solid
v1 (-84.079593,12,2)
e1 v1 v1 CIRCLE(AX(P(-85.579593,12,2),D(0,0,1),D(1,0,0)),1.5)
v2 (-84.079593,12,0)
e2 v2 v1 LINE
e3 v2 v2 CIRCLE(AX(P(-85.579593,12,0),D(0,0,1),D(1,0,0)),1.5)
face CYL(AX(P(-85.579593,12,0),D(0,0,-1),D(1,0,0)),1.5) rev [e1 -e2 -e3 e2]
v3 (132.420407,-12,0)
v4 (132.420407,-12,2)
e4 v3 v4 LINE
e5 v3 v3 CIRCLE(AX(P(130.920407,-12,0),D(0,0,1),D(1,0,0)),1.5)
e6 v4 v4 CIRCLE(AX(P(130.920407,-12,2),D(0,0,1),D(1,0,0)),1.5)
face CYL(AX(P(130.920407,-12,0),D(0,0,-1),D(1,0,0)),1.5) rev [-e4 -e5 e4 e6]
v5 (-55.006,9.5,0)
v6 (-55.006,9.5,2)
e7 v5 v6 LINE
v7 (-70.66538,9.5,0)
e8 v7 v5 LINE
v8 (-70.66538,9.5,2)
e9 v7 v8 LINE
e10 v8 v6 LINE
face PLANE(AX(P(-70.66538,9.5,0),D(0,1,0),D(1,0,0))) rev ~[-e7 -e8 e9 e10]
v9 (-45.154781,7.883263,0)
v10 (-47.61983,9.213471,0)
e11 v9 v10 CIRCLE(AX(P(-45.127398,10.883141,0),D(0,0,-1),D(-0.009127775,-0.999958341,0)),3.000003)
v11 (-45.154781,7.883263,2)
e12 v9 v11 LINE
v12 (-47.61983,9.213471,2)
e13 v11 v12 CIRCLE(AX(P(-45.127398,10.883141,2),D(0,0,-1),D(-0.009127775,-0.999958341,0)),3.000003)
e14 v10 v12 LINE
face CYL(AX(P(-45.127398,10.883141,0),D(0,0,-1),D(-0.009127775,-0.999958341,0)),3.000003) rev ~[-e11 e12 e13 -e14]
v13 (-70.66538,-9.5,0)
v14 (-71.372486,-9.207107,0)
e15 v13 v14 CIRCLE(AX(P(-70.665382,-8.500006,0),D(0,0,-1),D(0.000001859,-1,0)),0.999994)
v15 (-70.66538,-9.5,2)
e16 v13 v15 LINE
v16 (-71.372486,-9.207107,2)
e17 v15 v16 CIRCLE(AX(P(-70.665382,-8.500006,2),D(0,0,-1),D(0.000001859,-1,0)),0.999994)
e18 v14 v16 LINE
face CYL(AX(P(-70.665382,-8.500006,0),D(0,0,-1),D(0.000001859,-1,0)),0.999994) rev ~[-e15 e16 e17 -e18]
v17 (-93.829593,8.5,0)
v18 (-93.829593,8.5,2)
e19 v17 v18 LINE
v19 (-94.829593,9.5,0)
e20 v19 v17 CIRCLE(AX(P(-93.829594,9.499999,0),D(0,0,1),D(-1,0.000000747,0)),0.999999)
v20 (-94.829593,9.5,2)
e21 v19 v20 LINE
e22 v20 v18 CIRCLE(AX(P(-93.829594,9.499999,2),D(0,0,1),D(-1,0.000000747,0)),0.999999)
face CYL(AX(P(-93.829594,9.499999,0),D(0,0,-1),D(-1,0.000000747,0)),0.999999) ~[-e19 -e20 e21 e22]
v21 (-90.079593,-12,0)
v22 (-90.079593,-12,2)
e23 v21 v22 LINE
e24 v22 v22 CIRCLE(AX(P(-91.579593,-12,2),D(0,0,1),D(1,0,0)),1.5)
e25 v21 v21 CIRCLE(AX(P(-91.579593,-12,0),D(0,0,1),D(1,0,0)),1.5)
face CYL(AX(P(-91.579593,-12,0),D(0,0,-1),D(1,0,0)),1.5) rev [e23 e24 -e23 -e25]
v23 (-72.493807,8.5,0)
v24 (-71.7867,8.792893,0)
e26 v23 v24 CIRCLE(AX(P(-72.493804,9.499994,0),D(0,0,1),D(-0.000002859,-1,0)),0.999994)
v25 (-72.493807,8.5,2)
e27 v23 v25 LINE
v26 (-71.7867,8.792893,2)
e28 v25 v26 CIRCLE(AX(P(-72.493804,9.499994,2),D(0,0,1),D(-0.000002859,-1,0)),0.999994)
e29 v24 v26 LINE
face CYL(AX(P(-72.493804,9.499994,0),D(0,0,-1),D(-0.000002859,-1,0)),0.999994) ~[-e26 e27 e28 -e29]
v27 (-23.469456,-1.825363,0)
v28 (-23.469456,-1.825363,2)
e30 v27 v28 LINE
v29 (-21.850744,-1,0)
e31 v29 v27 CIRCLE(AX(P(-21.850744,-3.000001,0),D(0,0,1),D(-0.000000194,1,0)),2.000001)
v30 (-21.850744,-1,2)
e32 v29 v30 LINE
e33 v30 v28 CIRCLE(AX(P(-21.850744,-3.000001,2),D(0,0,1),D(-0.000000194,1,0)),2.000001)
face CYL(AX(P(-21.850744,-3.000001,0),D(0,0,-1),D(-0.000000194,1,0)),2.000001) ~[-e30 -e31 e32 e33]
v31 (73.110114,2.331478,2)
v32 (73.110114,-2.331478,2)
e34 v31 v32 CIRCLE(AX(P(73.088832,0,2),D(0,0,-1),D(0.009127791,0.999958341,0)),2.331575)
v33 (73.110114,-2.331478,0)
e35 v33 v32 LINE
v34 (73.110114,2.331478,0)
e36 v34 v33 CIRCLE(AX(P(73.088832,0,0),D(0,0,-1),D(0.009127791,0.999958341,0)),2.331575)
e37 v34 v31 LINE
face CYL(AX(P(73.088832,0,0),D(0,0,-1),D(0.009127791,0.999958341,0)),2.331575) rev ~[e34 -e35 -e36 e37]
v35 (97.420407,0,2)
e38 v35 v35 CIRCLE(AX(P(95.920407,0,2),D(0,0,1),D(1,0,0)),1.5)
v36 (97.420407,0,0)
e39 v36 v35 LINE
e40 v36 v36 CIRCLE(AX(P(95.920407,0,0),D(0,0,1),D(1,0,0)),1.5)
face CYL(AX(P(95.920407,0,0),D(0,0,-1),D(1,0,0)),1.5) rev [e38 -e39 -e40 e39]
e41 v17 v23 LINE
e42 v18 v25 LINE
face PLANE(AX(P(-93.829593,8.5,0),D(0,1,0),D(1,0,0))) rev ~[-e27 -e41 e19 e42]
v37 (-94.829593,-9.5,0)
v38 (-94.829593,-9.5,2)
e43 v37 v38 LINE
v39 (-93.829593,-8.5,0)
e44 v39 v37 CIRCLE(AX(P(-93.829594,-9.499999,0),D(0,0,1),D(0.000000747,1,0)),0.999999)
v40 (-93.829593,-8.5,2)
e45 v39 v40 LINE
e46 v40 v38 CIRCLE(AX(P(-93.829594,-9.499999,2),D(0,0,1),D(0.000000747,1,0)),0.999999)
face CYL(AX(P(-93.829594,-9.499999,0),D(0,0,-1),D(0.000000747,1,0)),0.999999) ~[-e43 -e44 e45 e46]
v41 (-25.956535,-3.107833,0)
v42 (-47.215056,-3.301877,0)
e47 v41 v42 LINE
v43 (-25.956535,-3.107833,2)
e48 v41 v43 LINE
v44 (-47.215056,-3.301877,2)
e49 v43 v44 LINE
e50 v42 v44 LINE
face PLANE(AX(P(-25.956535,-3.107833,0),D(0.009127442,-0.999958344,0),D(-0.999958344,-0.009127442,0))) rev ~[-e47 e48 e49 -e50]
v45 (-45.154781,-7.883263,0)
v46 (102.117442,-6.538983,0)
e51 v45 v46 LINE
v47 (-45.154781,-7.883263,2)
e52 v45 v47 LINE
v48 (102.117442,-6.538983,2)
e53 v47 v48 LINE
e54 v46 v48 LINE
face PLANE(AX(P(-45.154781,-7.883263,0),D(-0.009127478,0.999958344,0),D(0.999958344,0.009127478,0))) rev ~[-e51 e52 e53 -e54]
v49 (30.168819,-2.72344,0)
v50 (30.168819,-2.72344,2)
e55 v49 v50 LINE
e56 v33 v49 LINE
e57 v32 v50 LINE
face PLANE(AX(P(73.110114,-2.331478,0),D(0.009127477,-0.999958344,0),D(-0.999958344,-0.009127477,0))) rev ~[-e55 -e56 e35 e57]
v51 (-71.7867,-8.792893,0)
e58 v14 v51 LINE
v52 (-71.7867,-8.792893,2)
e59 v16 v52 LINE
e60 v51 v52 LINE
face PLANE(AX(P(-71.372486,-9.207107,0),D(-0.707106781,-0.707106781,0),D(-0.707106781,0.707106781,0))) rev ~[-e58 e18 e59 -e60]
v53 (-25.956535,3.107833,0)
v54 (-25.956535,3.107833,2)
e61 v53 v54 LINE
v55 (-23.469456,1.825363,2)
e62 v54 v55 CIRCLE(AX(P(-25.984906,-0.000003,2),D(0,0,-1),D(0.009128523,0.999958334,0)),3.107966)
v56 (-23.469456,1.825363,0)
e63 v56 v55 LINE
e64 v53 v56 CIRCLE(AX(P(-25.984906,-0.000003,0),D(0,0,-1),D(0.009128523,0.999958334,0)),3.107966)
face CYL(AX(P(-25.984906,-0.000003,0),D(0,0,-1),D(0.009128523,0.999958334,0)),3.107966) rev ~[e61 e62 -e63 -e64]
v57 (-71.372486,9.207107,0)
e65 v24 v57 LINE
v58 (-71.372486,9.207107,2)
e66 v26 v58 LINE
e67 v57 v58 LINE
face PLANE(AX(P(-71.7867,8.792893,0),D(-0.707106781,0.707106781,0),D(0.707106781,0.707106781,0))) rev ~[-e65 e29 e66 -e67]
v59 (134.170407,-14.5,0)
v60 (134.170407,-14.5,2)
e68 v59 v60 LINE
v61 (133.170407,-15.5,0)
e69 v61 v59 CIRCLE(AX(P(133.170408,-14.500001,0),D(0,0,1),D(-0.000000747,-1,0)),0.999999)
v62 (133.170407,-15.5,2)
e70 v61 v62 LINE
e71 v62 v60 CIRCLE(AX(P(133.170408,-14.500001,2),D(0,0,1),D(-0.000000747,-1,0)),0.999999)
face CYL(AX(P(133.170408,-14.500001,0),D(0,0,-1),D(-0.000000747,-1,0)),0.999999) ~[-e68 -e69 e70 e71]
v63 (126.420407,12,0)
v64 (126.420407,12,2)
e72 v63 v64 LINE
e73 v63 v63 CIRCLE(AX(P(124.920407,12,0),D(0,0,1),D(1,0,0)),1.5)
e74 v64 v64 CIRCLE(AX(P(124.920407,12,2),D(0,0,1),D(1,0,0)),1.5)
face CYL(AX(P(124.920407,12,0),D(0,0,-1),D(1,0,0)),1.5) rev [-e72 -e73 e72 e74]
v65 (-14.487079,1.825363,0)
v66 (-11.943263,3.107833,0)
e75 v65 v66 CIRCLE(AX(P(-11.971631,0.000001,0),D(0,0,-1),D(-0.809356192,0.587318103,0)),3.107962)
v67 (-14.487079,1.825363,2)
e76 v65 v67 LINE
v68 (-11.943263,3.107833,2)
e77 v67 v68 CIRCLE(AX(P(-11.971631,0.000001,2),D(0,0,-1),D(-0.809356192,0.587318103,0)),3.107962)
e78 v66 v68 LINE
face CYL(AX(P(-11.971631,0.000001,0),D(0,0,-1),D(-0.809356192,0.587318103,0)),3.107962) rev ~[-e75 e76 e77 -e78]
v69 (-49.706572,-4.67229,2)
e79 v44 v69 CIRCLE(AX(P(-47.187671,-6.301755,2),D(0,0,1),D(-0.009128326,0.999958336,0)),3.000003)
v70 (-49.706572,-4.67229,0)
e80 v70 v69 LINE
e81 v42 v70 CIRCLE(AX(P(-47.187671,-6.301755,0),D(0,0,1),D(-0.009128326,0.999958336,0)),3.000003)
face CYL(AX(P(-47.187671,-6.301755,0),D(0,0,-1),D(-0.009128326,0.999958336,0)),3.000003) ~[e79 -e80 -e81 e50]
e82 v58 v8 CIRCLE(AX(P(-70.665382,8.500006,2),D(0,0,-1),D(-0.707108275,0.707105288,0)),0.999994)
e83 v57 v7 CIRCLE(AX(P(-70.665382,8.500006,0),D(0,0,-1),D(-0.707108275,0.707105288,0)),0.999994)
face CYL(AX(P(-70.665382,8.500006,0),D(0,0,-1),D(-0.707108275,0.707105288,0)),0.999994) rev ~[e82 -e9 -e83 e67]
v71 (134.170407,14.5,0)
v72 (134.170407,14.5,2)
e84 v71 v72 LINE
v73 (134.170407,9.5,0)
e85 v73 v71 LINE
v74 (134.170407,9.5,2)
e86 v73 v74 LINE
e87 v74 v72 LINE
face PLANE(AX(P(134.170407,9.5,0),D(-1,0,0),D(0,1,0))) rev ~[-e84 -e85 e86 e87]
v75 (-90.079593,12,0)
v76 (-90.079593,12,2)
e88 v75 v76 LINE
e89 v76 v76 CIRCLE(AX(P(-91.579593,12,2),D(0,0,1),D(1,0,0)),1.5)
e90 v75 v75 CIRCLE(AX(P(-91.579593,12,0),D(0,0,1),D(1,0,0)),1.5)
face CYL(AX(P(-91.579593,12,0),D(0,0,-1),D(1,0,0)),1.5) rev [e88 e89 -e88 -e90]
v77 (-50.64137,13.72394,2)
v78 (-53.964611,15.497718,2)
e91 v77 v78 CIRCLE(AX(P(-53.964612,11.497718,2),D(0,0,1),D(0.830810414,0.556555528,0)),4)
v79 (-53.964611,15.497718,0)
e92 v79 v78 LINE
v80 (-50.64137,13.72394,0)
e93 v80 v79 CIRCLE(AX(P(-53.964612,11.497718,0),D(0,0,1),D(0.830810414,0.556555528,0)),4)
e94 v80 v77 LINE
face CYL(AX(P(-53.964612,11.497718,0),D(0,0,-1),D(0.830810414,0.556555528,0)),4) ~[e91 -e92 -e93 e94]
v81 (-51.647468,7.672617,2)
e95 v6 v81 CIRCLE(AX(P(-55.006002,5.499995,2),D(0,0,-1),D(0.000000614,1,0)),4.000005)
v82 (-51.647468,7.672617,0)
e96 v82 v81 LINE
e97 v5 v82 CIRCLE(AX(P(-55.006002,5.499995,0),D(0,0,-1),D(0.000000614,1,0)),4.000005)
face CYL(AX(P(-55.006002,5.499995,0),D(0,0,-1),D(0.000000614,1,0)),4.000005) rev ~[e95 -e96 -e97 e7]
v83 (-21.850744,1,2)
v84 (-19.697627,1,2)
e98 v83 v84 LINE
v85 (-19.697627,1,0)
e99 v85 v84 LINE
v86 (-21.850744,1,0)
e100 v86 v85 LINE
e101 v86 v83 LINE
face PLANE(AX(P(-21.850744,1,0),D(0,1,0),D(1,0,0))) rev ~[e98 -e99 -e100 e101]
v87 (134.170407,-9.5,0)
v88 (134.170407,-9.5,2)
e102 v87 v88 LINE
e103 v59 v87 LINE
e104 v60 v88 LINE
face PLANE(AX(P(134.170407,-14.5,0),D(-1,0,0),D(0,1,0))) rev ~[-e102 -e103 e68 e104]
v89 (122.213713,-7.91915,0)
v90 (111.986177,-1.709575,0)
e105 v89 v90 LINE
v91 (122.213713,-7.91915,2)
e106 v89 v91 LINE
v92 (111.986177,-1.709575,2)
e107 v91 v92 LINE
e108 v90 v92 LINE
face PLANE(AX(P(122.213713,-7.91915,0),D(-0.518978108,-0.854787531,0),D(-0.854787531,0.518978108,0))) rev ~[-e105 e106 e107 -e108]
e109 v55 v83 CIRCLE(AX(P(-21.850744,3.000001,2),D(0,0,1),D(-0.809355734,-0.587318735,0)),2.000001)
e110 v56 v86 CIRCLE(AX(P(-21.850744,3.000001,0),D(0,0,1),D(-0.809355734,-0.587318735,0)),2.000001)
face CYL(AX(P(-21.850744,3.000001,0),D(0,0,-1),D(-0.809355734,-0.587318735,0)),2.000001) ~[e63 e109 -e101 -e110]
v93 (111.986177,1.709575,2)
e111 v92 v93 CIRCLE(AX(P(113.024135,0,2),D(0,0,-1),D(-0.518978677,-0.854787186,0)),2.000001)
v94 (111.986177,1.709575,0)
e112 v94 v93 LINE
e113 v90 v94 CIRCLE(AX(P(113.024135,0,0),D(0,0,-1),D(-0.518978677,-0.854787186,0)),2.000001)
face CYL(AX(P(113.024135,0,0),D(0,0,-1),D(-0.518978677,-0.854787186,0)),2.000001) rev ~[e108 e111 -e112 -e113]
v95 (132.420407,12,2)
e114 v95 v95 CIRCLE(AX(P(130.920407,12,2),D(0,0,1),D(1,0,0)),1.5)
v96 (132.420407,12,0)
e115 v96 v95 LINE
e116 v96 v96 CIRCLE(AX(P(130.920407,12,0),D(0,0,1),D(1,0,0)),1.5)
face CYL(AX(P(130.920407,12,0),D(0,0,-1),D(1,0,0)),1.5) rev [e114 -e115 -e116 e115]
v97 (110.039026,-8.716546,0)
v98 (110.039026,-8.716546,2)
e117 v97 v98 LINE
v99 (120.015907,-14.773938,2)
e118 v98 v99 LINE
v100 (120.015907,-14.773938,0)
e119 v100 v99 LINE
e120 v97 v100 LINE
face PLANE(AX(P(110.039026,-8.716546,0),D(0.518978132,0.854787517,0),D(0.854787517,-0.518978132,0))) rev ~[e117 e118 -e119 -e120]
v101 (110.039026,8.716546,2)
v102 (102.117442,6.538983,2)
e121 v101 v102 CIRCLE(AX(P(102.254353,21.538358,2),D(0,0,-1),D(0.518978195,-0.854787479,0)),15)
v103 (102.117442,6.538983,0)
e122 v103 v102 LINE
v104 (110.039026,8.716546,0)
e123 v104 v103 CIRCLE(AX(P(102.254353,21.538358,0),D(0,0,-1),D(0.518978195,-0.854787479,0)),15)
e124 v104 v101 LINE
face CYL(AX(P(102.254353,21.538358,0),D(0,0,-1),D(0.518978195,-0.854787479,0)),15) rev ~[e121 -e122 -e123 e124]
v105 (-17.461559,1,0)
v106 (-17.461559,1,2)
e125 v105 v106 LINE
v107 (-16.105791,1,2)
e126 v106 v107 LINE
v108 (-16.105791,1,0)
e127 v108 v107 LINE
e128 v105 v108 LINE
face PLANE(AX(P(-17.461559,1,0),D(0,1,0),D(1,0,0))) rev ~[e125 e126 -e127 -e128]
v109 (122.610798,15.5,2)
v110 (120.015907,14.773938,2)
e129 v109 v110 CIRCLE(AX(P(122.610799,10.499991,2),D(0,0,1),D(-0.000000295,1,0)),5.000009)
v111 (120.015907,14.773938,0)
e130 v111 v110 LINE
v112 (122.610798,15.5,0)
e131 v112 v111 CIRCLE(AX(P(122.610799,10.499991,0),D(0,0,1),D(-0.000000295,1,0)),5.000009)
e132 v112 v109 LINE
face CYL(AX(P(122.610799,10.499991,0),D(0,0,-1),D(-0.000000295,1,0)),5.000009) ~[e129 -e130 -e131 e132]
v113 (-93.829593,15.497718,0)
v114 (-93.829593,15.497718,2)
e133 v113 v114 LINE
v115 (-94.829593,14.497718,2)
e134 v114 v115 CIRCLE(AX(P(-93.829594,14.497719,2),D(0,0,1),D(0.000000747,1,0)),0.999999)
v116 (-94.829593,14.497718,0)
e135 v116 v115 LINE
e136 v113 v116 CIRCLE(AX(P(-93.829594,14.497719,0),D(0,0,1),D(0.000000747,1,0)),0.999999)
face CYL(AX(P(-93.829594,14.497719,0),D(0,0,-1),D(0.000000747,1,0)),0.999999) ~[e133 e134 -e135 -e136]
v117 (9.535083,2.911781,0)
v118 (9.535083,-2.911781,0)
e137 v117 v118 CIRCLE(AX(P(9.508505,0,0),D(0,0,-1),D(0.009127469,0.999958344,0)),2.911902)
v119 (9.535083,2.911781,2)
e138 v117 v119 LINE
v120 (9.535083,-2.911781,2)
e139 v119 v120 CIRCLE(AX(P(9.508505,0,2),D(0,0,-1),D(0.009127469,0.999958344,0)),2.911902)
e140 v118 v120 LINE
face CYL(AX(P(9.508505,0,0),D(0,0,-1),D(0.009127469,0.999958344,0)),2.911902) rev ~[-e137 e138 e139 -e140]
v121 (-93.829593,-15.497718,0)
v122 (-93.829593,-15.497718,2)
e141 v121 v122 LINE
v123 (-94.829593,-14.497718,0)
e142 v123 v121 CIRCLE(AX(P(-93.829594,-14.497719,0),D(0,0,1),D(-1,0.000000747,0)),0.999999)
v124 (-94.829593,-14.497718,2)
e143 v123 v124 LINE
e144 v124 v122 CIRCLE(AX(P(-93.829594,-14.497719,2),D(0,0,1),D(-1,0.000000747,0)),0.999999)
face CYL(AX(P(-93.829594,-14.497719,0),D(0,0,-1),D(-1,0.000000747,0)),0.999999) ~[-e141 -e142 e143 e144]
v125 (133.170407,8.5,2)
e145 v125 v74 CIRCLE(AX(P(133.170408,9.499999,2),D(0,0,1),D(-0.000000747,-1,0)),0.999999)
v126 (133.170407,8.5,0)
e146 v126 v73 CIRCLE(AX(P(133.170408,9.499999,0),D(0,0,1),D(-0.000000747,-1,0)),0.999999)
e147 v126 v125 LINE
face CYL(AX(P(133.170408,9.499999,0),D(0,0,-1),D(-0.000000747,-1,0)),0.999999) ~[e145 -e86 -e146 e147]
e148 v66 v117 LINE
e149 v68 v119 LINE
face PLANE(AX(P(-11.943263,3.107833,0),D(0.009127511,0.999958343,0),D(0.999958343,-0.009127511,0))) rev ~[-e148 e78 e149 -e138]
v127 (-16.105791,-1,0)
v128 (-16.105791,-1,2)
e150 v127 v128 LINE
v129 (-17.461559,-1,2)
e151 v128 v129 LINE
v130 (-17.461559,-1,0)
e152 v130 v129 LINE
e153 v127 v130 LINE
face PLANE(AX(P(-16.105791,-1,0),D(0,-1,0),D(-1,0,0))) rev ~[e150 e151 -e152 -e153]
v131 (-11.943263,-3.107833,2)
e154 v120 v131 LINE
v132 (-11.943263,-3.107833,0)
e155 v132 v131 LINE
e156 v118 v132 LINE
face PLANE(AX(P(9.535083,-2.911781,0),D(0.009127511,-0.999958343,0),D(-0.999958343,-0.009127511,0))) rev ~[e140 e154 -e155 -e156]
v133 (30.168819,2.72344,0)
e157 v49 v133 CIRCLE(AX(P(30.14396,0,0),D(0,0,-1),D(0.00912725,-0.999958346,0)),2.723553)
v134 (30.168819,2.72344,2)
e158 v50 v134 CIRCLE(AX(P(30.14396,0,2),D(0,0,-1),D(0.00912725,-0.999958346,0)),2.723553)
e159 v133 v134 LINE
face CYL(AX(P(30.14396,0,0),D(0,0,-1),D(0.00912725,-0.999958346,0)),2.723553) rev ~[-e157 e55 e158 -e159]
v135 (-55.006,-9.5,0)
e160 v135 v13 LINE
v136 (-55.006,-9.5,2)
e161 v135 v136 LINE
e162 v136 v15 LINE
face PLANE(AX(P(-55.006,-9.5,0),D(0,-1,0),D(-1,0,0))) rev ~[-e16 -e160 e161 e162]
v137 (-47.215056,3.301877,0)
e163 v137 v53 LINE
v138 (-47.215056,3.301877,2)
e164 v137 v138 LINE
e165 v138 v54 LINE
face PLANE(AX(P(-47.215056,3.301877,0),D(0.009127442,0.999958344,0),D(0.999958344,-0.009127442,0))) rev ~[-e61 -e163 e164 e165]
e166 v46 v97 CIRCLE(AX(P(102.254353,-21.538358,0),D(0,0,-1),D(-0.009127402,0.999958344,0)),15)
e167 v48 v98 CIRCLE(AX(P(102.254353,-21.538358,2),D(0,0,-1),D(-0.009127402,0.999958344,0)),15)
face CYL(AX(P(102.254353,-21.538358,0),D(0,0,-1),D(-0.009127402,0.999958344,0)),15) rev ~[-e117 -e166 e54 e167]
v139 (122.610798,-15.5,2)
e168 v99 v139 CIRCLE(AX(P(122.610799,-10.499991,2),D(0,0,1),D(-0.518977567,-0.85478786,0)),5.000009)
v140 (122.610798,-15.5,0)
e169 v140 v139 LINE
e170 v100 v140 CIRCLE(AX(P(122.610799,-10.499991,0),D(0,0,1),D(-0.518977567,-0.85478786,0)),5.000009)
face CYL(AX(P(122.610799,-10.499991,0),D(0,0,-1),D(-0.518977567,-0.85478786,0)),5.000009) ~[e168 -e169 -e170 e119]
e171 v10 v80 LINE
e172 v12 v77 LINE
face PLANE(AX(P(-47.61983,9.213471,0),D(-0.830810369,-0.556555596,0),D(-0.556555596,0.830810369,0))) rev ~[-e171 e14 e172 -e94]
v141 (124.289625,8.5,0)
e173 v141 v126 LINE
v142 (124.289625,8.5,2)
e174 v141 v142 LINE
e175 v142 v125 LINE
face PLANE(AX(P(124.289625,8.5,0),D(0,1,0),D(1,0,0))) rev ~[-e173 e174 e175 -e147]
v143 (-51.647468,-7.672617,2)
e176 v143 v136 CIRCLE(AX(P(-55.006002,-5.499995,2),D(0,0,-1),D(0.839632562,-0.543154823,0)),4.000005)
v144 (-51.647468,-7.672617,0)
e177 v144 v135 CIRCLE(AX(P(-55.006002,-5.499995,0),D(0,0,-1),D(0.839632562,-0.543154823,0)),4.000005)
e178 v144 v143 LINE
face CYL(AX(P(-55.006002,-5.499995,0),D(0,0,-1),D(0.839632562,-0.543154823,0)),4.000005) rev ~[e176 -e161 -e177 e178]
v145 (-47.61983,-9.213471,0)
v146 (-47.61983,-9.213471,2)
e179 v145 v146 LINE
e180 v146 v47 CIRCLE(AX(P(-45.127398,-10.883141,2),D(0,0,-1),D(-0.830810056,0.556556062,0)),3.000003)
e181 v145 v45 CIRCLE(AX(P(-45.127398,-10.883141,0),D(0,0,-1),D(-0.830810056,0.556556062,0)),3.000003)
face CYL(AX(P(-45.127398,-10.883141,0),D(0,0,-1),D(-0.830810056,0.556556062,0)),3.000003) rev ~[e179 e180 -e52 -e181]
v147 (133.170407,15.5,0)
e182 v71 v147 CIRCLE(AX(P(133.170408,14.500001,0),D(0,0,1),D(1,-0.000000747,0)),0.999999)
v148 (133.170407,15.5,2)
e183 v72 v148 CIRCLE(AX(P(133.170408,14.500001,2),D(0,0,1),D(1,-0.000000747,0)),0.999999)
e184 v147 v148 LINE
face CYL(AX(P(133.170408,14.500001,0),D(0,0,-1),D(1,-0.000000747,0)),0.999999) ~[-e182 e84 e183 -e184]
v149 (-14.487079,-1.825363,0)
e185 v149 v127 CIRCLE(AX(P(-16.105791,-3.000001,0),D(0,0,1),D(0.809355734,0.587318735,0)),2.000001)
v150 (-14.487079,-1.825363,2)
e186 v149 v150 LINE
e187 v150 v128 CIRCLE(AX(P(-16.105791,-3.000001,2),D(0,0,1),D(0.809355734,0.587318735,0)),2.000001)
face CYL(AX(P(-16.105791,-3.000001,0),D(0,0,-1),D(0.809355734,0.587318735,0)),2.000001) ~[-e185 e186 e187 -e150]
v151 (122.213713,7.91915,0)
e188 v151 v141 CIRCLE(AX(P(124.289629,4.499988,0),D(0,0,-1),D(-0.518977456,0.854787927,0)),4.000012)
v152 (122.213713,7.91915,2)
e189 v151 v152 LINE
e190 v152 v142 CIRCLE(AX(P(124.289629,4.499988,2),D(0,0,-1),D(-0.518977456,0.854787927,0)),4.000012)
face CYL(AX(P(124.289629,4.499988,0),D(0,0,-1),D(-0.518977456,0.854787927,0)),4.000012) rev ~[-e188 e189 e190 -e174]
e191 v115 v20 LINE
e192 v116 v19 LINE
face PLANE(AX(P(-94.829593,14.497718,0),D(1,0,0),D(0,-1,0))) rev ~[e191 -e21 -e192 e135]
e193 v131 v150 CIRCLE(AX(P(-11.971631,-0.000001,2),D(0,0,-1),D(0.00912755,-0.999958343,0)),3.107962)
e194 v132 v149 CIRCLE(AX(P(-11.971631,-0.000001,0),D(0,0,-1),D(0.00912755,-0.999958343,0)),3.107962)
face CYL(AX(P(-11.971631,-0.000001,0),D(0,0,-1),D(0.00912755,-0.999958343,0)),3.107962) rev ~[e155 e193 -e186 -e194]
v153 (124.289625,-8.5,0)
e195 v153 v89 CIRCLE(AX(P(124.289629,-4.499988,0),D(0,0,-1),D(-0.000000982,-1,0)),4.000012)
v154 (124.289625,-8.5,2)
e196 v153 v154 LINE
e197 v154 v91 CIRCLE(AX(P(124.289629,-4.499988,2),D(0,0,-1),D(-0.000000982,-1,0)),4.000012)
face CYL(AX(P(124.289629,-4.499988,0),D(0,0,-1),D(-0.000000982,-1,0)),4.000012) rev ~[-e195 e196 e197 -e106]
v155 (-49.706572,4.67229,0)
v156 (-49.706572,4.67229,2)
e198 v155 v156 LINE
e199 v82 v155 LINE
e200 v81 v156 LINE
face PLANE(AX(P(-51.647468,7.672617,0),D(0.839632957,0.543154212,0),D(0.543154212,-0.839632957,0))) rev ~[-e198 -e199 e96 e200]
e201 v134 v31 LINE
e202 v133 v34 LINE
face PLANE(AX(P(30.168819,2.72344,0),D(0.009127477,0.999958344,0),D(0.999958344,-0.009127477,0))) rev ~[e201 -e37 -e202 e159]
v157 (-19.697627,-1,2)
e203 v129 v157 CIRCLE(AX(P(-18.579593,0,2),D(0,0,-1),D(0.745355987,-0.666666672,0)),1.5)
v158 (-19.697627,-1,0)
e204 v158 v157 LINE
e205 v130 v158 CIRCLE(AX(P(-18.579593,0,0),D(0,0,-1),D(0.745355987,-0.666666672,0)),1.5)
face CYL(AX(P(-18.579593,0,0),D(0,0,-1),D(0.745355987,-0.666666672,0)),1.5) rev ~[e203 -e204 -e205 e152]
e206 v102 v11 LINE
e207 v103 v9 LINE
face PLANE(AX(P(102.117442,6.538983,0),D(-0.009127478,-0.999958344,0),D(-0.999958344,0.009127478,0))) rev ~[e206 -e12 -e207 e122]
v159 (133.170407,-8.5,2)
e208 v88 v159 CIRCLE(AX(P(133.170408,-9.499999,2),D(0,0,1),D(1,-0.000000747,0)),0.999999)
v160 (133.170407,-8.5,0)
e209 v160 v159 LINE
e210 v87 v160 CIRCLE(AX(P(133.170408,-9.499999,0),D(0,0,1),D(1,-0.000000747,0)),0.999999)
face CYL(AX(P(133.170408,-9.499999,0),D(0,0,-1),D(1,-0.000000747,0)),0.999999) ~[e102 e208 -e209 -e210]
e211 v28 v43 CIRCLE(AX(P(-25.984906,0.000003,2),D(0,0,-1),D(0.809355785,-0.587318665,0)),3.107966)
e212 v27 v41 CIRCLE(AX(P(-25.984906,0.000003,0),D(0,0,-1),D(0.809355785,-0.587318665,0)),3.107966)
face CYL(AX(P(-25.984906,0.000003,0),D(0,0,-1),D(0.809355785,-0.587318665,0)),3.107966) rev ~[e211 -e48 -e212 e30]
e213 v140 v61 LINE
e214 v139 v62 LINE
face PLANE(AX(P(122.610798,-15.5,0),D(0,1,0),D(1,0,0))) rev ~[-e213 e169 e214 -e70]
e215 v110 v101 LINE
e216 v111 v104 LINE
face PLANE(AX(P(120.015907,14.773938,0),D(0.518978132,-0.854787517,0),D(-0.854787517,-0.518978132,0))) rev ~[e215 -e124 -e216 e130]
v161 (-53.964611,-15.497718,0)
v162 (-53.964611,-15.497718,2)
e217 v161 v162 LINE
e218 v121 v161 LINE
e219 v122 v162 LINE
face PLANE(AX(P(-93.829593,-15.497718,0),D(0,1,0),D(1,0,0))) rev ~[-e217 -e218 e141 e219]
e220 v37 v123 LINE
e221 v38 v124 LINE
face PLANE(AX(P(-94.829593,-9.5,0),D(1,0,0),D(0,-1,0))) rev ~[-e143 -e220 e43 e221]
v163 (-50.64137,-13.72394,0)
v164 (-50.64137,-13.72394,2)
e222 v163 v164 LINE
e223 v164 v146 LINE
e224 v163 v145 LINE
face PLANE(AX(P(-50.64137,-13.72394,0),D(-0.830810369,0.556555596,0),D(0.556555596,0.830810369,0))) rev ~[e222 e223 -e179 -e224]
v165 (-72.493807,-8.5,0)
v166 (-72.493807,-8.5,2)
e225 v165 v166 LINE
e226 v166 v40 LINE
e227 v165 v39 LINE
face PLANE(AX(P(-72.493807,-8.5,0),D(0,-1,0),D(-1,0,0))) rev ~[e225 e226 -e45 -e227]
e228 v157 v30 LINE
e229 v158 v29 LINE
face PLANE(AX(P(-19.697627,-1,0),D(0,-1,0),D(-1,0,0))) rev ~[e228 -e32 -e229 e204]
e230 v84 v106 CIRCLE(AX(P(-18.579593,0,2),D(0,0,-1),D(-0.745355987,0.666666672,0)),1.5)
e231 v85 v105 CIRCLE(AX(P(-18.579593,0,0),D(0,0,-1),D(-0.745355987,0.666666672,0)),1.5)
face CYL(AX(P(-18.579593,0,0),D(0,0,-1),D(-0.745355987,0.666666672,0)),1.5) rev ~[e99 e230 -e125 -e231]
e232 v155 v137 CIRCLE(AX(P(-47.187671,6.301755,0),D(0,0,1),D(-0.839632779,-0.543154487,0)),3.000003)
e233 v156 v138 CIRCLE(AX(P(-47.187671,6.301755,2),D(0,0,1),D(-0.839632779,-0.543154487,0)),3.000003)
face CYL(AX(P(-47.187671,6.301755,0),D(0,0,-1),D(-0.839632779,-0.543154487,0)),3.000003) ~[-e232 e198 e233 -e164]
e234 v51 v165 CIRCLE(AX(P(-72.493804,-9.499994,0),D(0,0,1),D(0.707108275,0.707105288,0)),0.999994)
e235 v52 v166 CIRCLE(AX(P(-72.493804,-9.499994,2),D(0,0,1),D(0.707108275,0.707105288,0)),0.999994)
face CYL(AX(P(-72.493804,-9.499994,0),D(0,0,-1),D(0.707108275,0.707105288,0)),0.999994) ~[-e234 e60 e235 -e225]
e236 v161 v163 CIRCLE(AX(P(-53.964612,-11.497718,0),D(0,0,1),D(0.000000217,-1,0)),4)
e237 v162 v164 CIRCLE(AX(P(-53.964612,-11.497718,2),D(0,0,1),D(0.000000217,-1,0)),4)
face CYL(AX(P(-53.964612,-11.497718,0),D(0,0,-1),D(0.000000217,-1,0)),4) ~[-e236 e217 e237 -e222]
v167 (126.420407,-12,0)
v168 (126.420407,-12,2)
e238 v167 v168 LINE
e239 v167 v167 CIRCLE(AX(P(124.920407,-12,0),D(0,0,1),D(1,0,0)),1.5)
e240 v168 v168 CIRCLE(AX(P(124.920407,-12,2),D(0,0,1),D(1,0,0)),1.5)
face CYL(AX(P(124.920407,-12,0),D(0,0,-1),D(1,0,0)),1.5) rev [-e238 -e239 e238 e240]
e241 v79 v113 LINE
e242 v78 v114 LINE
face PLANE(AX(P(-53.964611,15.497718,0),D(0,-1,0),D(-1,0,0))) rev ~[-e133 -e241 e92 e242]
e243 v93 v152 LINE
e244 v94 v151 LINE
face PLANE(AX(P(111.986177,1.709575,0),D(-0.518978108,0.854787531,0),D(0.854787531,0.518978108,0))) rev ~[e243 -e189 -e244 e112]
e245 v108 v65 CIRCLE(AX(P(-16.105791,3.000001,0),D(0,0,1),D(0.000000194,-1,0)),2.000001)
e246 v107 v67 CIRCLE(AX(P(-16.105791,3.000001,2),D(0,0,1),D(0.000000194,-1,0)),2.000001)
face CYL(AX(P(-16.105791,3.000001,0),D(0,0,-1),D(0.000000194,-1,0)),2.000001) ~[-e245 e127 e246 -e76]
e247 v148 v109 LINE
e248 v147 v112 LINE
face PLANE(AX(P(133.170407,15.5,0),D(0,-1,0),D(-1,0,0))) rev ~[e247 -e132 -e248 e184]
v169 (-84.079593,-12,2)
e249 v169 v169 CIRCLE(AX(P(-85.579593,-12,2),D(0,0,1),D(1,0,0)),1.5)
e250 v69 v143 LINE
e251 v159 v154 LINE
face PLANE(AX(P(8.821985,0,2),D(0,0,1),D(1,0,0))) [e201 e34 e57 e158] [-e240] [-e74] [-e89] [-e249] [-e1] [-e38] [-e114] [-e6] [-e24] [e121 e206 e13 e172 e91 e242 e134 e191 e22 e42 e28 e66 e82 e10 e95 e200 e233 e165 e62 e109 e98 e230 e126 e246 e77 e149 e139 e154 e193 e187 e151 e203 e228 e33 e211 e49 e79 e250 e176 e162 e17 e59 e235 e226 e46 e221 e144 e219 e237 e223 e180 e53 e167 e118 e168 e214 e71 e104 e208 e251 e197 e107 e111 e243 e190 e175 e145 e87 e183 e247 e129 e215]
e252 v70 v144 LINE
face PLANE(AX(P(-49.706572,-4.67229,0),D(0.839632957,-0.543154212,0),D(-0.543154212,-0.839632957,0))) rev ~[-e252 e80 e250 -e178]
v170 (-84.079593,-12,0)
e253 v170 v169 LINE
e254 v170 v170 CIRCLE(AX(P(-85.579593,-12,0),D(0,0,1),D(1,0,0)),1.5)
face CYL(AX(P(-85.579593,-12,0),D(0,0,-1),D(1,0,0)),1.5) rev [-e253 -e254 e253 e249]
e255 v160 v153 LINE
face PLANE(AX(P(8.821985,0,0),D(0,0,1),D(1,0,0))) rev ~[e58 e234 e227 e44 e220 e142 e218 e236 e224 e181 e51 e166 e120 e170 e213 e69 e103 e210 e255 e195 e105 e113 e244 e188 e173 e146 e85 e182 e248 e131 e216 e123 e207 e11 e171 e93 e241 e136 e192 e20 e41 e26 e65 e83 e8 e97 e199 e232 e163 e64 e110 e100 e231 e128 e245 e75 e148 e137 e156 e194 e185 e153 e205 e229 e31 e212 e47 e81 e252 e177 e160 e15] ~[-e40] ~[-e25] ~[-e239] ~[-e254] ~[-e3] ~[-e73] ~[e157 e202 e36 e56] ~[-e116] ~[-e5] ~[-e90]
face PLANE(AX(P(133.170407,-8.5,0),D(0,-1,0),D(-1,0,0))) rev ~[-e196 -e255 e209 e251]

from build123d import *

# Parameters (mm, degrees)
F0_R     = 1.5
F1_DEPTH = 2


with BuildPart() as f1:
    # F0 (on Top) → F1 (new body)
    with BuildSketch(Plane.XY):
        with BuildLine():
            ThreePointArc((-19.697627, 1), (-18.579593, 1.5), (-17.461559, 1))
            Line((-17.461559, 1), (-16.105791, 1))
            ThreePointArc((-16.105791, 1), (-15.197296, 1.218249), (-14.487079, 1.825363))
            ThreePointArc((-14.487079, 1.825363), (-13.370764, 2.775222), (-11.943263, 3.107833))
            Line((-11.943263, 3.107833), (9.535083, 2.911781))
            ThreePointArc((9.535083, 2.911781), (12.420407, 0), (9.535083, -2.911781))
            Line((9.535083, -2.911781), (-11.943263, -3.107833))
            ThreePointArc((-11.943263, -3.107833), (-13.370764, -2.775222), (-14.487079, -1.825363))
            ThreePointArc((-14.487079, -1.825363), (-15.197296, -1.218249), (-16.105791, -1))
            Line((-16.105791, -1), (-17.461559, -1))
            ThreePointArc((-17.461559, -1), (-18.579593, -1.5), (-19.697627, -1))
            Line((-19.697627, -1), (-21.850744, -1))
            ThreePointArc((-21.850744, -1), (-22.759239, -1.218249), (-23.469456, -1.825363))
            ThreePointArc((-23.469456, -1.825363), (-24.560498, -2.762335), (-25.956535, -3.107833))
            Line((-25.956535, -3.107833), (-47.215056, -3.301877))
            ThreePointArc((-47.215056, -3.301877), (-48.633493, -3.67314), (-49.706572, -4.67229))
            Line((-49.706572, -4.67229), (-51.647468, -7.672617))
            ThreePointArc((-51.647468, -7.672617), (-53.094256, -9.013578), (-55.006, -9.5))
            Line((-55.006, -9.5), (-70.66538, -9.5))
            ThreePointArc((-70.66538, -9.5), (-71.048063, -9.42388), (-71.372486, -9.207107))
            Line((-71.372486, -9.207107), (-71.7867, -8.792893))
            ThreePointArc((-71.7867, -8.792893), (-72.111123, -8.57612), (-72.493807, -8.5))
            Line((-72.493807, -8.5), (-93.829593, -8.5))
            ThreePointArc((-93.829593, -8.5), (-94.5367, -8.792893), (-94.829593, -9.5))
            Line((-94.829593, -9.5), (-94.829593, -14.497718))
            ThreePointArc((-94.829593, -14.497718), (-94.5367, -15.204825), (-93.829593, -15.497718))
            Line((-93.829593, -15.497718), (-53.964611, -15.497718))
            ThreePointArc((-53.964611, -15.497718), (-52.081116, -15.02652), (-50.64137, -13.72394))
            Line((-50.64137, -13.72394), (-47.61983, -9.213471))
            ThreePointArc((-47.61983, -9.213471), (-46.552084, -8.243011), (-45.154781, -7.883263))
            Line((-45.154781, -7.883263), (102.117442, -6.538983))
            ThreePointArc((102.117442, -6.538983), (106.230219, -7.07487), (110.039026, -8.716546))
            Line((110.039026, -8.716546), (120.015907, -14.773938))
            ThreePointArc((120.015907, -14.773938), (121.26352, -15.315064), (122.610798, -15.5))
            Line((122.610798, -15.5), (133.170407, -15.5))
            ThreePointArc((133.170407, -15.5), (133.877514, -15.207107), (134.170407, -14.5))
            Line((134.170407, -14.5), (134.170407, -9.5))
            ThreePointArc((134.170407, -9.5), (133.877514, -8.792893), (133.170407, -8.5))
            Line((133.170407, -8.5), (124.289625, -8.5))
            ThreePointArc((124.289625, -8.5), (123.211804, -8.352051), (122.213713, -7.91915))
            Line((122.213713, -7.91915), (111.986177, -1.709575))
            ThreePointArc((111.986177, -1.709575), (111.024134, 0), (111.986177, 1.709575))
            Line((111.986177, 1.709575), (122.213713, 7.91915))
            ThreePointArc((122.213713, 7.91915), (123.211804, 8.352051), (124.289625, 8.5))
            Line((124.289625, 8.5), (133.170407, 8.5))
            ThreePointArc((133.170407, 8.5), (133.877514, 8.792893), (134.170407, 9.5))
            Line((134.170407, 9.5), (134.170407, 14.5))
            ThreePointArc((134.170407, 14.5), (133.877514, 15.207107), (133.170407, 15.5))
            Line((133.170407, 15.5), (122.610798, 15.5))
            ThreePointArc((122.610798, 15.5), (121.26352, 15.315064), (120.015907, 14.773938))
            Line((120.015907, 14.773938), (110.039026, 8.716546))
            ThreePointArc((110.039026, 8.716546), (106.230219, 7.07487), (102.117442, 6.538983))
            Line((102.117442, 6.538983), (-45.154781, 7.883263))
            ThreePointArc((-45.154781, 7.883263), (-46.552084, 8.243011), (-47.61983, 9.213471))
            Line((-47.61983, 9.213471), (-50.64137, 13.72394))
            ThreePointArc((-50.64137, 13.72394), (-52.081116, 15.02652), (-53.964611, 15.497718))
            Line((-53.964611, 15.497718), (-93.829593, 15.497718))
            ThreePointArc((-93.829593, 15.497718), (-94.5367, 15.204825), (-94.829593, 14.497718))
            Line((-94.829593, 14.497718), (-94.829593, 9.5))
            ThreePointArc((-94.829593, 9.5), (-94.5367, 8.792893), (-93.829593, 8.5))
            Line((-93.829593, 8.5), (-72.493807, 8.5))
            ThreePointArc((-72.493807, 8.5), (-72.111123, 8.57612), (-71.7867, 8.792893))
            Line((-71.7867, 8.792893), (-71.372486, 9.207107))
            ThreePointArc((-71.372486, 9.207107), (-71.048063, 9.42388), (-70.66538, 9.5))
            Line((-70.66538, 9.5), (-55.006, 9.5))
            ThreePointArc((-55.006, 9.5), (-53.094256, 9.013578), (-51.647468, 7.672617))
            Line((-51.647468, 7.672617), (-49.706572, 4.67229))
            ThreePointArc((-49.706572, 4.67229), (-48.633493, 3.67314), (-47.215056, 3.301877))
            Line((-47.215056, 3.301877), (-25.956535, 3.107833))
            ThreePointArc((-25.956535, 3.107833), (-24.560498, 2.762335), (-23.469456, 1.825363))
            ThreePointArc((-23.469456, 1.825363), (-22.759239, 1.218249), (-21.850744, 1))
            Line((-21.850744, 1), (-19.697627, 1))
        make_face()
        with Locations((-91.579593, -12)):
            Circle(F0_R, mode=Mode.SUBTRACT)
        with Locations((-85.579593, -12)):
            Circle(F0_R, mode=Mode.SUBTRACT)
        with Locations((124.920407, -12)):
            Circle(F0_R, mode=Mode.SUBTRACT)
        with Locations((130.920407, -12)):
            Circle(F0_R, mode=Mode.SUBTRACT)
        with Locations((-91.579593, 12)):
            Circle(F0_R, mode=Mode.SUBTRACT)
        with Locations((-85.579593, 12)):
            Circle(F0_R, mode=Mode.SUBTRACT)
        with BuildLine():
            ThreePointArc((73.110114, 2.331478), (75.420407, 0), (73.110114, -2.331478))
            Line((73.110114, -2.331478), (30.168819, -2.72344))
            ThreePointArc((30.168819, -2.72344), (27.420407, 0), (30.168819, 2.72344))
            Line((30.168819, 2.72344), (73.110114, 2.331478))
        make_face(mode=Mode.SUBTRACT)
        with Locations((95.920407, 0)):
            Circle(F0_R, mode=Mode.SUBTRACT)
        with Locations((124.920407, 12)):
            Circle(F0_R, mode=Mode.SUBTRACT)
        with Locations((130.920407, 12)):
            Circle(F0_R, mode=Mode.SUBTRACT)
    extrude(amount=F1_DEPTH)


solid = f1.part
